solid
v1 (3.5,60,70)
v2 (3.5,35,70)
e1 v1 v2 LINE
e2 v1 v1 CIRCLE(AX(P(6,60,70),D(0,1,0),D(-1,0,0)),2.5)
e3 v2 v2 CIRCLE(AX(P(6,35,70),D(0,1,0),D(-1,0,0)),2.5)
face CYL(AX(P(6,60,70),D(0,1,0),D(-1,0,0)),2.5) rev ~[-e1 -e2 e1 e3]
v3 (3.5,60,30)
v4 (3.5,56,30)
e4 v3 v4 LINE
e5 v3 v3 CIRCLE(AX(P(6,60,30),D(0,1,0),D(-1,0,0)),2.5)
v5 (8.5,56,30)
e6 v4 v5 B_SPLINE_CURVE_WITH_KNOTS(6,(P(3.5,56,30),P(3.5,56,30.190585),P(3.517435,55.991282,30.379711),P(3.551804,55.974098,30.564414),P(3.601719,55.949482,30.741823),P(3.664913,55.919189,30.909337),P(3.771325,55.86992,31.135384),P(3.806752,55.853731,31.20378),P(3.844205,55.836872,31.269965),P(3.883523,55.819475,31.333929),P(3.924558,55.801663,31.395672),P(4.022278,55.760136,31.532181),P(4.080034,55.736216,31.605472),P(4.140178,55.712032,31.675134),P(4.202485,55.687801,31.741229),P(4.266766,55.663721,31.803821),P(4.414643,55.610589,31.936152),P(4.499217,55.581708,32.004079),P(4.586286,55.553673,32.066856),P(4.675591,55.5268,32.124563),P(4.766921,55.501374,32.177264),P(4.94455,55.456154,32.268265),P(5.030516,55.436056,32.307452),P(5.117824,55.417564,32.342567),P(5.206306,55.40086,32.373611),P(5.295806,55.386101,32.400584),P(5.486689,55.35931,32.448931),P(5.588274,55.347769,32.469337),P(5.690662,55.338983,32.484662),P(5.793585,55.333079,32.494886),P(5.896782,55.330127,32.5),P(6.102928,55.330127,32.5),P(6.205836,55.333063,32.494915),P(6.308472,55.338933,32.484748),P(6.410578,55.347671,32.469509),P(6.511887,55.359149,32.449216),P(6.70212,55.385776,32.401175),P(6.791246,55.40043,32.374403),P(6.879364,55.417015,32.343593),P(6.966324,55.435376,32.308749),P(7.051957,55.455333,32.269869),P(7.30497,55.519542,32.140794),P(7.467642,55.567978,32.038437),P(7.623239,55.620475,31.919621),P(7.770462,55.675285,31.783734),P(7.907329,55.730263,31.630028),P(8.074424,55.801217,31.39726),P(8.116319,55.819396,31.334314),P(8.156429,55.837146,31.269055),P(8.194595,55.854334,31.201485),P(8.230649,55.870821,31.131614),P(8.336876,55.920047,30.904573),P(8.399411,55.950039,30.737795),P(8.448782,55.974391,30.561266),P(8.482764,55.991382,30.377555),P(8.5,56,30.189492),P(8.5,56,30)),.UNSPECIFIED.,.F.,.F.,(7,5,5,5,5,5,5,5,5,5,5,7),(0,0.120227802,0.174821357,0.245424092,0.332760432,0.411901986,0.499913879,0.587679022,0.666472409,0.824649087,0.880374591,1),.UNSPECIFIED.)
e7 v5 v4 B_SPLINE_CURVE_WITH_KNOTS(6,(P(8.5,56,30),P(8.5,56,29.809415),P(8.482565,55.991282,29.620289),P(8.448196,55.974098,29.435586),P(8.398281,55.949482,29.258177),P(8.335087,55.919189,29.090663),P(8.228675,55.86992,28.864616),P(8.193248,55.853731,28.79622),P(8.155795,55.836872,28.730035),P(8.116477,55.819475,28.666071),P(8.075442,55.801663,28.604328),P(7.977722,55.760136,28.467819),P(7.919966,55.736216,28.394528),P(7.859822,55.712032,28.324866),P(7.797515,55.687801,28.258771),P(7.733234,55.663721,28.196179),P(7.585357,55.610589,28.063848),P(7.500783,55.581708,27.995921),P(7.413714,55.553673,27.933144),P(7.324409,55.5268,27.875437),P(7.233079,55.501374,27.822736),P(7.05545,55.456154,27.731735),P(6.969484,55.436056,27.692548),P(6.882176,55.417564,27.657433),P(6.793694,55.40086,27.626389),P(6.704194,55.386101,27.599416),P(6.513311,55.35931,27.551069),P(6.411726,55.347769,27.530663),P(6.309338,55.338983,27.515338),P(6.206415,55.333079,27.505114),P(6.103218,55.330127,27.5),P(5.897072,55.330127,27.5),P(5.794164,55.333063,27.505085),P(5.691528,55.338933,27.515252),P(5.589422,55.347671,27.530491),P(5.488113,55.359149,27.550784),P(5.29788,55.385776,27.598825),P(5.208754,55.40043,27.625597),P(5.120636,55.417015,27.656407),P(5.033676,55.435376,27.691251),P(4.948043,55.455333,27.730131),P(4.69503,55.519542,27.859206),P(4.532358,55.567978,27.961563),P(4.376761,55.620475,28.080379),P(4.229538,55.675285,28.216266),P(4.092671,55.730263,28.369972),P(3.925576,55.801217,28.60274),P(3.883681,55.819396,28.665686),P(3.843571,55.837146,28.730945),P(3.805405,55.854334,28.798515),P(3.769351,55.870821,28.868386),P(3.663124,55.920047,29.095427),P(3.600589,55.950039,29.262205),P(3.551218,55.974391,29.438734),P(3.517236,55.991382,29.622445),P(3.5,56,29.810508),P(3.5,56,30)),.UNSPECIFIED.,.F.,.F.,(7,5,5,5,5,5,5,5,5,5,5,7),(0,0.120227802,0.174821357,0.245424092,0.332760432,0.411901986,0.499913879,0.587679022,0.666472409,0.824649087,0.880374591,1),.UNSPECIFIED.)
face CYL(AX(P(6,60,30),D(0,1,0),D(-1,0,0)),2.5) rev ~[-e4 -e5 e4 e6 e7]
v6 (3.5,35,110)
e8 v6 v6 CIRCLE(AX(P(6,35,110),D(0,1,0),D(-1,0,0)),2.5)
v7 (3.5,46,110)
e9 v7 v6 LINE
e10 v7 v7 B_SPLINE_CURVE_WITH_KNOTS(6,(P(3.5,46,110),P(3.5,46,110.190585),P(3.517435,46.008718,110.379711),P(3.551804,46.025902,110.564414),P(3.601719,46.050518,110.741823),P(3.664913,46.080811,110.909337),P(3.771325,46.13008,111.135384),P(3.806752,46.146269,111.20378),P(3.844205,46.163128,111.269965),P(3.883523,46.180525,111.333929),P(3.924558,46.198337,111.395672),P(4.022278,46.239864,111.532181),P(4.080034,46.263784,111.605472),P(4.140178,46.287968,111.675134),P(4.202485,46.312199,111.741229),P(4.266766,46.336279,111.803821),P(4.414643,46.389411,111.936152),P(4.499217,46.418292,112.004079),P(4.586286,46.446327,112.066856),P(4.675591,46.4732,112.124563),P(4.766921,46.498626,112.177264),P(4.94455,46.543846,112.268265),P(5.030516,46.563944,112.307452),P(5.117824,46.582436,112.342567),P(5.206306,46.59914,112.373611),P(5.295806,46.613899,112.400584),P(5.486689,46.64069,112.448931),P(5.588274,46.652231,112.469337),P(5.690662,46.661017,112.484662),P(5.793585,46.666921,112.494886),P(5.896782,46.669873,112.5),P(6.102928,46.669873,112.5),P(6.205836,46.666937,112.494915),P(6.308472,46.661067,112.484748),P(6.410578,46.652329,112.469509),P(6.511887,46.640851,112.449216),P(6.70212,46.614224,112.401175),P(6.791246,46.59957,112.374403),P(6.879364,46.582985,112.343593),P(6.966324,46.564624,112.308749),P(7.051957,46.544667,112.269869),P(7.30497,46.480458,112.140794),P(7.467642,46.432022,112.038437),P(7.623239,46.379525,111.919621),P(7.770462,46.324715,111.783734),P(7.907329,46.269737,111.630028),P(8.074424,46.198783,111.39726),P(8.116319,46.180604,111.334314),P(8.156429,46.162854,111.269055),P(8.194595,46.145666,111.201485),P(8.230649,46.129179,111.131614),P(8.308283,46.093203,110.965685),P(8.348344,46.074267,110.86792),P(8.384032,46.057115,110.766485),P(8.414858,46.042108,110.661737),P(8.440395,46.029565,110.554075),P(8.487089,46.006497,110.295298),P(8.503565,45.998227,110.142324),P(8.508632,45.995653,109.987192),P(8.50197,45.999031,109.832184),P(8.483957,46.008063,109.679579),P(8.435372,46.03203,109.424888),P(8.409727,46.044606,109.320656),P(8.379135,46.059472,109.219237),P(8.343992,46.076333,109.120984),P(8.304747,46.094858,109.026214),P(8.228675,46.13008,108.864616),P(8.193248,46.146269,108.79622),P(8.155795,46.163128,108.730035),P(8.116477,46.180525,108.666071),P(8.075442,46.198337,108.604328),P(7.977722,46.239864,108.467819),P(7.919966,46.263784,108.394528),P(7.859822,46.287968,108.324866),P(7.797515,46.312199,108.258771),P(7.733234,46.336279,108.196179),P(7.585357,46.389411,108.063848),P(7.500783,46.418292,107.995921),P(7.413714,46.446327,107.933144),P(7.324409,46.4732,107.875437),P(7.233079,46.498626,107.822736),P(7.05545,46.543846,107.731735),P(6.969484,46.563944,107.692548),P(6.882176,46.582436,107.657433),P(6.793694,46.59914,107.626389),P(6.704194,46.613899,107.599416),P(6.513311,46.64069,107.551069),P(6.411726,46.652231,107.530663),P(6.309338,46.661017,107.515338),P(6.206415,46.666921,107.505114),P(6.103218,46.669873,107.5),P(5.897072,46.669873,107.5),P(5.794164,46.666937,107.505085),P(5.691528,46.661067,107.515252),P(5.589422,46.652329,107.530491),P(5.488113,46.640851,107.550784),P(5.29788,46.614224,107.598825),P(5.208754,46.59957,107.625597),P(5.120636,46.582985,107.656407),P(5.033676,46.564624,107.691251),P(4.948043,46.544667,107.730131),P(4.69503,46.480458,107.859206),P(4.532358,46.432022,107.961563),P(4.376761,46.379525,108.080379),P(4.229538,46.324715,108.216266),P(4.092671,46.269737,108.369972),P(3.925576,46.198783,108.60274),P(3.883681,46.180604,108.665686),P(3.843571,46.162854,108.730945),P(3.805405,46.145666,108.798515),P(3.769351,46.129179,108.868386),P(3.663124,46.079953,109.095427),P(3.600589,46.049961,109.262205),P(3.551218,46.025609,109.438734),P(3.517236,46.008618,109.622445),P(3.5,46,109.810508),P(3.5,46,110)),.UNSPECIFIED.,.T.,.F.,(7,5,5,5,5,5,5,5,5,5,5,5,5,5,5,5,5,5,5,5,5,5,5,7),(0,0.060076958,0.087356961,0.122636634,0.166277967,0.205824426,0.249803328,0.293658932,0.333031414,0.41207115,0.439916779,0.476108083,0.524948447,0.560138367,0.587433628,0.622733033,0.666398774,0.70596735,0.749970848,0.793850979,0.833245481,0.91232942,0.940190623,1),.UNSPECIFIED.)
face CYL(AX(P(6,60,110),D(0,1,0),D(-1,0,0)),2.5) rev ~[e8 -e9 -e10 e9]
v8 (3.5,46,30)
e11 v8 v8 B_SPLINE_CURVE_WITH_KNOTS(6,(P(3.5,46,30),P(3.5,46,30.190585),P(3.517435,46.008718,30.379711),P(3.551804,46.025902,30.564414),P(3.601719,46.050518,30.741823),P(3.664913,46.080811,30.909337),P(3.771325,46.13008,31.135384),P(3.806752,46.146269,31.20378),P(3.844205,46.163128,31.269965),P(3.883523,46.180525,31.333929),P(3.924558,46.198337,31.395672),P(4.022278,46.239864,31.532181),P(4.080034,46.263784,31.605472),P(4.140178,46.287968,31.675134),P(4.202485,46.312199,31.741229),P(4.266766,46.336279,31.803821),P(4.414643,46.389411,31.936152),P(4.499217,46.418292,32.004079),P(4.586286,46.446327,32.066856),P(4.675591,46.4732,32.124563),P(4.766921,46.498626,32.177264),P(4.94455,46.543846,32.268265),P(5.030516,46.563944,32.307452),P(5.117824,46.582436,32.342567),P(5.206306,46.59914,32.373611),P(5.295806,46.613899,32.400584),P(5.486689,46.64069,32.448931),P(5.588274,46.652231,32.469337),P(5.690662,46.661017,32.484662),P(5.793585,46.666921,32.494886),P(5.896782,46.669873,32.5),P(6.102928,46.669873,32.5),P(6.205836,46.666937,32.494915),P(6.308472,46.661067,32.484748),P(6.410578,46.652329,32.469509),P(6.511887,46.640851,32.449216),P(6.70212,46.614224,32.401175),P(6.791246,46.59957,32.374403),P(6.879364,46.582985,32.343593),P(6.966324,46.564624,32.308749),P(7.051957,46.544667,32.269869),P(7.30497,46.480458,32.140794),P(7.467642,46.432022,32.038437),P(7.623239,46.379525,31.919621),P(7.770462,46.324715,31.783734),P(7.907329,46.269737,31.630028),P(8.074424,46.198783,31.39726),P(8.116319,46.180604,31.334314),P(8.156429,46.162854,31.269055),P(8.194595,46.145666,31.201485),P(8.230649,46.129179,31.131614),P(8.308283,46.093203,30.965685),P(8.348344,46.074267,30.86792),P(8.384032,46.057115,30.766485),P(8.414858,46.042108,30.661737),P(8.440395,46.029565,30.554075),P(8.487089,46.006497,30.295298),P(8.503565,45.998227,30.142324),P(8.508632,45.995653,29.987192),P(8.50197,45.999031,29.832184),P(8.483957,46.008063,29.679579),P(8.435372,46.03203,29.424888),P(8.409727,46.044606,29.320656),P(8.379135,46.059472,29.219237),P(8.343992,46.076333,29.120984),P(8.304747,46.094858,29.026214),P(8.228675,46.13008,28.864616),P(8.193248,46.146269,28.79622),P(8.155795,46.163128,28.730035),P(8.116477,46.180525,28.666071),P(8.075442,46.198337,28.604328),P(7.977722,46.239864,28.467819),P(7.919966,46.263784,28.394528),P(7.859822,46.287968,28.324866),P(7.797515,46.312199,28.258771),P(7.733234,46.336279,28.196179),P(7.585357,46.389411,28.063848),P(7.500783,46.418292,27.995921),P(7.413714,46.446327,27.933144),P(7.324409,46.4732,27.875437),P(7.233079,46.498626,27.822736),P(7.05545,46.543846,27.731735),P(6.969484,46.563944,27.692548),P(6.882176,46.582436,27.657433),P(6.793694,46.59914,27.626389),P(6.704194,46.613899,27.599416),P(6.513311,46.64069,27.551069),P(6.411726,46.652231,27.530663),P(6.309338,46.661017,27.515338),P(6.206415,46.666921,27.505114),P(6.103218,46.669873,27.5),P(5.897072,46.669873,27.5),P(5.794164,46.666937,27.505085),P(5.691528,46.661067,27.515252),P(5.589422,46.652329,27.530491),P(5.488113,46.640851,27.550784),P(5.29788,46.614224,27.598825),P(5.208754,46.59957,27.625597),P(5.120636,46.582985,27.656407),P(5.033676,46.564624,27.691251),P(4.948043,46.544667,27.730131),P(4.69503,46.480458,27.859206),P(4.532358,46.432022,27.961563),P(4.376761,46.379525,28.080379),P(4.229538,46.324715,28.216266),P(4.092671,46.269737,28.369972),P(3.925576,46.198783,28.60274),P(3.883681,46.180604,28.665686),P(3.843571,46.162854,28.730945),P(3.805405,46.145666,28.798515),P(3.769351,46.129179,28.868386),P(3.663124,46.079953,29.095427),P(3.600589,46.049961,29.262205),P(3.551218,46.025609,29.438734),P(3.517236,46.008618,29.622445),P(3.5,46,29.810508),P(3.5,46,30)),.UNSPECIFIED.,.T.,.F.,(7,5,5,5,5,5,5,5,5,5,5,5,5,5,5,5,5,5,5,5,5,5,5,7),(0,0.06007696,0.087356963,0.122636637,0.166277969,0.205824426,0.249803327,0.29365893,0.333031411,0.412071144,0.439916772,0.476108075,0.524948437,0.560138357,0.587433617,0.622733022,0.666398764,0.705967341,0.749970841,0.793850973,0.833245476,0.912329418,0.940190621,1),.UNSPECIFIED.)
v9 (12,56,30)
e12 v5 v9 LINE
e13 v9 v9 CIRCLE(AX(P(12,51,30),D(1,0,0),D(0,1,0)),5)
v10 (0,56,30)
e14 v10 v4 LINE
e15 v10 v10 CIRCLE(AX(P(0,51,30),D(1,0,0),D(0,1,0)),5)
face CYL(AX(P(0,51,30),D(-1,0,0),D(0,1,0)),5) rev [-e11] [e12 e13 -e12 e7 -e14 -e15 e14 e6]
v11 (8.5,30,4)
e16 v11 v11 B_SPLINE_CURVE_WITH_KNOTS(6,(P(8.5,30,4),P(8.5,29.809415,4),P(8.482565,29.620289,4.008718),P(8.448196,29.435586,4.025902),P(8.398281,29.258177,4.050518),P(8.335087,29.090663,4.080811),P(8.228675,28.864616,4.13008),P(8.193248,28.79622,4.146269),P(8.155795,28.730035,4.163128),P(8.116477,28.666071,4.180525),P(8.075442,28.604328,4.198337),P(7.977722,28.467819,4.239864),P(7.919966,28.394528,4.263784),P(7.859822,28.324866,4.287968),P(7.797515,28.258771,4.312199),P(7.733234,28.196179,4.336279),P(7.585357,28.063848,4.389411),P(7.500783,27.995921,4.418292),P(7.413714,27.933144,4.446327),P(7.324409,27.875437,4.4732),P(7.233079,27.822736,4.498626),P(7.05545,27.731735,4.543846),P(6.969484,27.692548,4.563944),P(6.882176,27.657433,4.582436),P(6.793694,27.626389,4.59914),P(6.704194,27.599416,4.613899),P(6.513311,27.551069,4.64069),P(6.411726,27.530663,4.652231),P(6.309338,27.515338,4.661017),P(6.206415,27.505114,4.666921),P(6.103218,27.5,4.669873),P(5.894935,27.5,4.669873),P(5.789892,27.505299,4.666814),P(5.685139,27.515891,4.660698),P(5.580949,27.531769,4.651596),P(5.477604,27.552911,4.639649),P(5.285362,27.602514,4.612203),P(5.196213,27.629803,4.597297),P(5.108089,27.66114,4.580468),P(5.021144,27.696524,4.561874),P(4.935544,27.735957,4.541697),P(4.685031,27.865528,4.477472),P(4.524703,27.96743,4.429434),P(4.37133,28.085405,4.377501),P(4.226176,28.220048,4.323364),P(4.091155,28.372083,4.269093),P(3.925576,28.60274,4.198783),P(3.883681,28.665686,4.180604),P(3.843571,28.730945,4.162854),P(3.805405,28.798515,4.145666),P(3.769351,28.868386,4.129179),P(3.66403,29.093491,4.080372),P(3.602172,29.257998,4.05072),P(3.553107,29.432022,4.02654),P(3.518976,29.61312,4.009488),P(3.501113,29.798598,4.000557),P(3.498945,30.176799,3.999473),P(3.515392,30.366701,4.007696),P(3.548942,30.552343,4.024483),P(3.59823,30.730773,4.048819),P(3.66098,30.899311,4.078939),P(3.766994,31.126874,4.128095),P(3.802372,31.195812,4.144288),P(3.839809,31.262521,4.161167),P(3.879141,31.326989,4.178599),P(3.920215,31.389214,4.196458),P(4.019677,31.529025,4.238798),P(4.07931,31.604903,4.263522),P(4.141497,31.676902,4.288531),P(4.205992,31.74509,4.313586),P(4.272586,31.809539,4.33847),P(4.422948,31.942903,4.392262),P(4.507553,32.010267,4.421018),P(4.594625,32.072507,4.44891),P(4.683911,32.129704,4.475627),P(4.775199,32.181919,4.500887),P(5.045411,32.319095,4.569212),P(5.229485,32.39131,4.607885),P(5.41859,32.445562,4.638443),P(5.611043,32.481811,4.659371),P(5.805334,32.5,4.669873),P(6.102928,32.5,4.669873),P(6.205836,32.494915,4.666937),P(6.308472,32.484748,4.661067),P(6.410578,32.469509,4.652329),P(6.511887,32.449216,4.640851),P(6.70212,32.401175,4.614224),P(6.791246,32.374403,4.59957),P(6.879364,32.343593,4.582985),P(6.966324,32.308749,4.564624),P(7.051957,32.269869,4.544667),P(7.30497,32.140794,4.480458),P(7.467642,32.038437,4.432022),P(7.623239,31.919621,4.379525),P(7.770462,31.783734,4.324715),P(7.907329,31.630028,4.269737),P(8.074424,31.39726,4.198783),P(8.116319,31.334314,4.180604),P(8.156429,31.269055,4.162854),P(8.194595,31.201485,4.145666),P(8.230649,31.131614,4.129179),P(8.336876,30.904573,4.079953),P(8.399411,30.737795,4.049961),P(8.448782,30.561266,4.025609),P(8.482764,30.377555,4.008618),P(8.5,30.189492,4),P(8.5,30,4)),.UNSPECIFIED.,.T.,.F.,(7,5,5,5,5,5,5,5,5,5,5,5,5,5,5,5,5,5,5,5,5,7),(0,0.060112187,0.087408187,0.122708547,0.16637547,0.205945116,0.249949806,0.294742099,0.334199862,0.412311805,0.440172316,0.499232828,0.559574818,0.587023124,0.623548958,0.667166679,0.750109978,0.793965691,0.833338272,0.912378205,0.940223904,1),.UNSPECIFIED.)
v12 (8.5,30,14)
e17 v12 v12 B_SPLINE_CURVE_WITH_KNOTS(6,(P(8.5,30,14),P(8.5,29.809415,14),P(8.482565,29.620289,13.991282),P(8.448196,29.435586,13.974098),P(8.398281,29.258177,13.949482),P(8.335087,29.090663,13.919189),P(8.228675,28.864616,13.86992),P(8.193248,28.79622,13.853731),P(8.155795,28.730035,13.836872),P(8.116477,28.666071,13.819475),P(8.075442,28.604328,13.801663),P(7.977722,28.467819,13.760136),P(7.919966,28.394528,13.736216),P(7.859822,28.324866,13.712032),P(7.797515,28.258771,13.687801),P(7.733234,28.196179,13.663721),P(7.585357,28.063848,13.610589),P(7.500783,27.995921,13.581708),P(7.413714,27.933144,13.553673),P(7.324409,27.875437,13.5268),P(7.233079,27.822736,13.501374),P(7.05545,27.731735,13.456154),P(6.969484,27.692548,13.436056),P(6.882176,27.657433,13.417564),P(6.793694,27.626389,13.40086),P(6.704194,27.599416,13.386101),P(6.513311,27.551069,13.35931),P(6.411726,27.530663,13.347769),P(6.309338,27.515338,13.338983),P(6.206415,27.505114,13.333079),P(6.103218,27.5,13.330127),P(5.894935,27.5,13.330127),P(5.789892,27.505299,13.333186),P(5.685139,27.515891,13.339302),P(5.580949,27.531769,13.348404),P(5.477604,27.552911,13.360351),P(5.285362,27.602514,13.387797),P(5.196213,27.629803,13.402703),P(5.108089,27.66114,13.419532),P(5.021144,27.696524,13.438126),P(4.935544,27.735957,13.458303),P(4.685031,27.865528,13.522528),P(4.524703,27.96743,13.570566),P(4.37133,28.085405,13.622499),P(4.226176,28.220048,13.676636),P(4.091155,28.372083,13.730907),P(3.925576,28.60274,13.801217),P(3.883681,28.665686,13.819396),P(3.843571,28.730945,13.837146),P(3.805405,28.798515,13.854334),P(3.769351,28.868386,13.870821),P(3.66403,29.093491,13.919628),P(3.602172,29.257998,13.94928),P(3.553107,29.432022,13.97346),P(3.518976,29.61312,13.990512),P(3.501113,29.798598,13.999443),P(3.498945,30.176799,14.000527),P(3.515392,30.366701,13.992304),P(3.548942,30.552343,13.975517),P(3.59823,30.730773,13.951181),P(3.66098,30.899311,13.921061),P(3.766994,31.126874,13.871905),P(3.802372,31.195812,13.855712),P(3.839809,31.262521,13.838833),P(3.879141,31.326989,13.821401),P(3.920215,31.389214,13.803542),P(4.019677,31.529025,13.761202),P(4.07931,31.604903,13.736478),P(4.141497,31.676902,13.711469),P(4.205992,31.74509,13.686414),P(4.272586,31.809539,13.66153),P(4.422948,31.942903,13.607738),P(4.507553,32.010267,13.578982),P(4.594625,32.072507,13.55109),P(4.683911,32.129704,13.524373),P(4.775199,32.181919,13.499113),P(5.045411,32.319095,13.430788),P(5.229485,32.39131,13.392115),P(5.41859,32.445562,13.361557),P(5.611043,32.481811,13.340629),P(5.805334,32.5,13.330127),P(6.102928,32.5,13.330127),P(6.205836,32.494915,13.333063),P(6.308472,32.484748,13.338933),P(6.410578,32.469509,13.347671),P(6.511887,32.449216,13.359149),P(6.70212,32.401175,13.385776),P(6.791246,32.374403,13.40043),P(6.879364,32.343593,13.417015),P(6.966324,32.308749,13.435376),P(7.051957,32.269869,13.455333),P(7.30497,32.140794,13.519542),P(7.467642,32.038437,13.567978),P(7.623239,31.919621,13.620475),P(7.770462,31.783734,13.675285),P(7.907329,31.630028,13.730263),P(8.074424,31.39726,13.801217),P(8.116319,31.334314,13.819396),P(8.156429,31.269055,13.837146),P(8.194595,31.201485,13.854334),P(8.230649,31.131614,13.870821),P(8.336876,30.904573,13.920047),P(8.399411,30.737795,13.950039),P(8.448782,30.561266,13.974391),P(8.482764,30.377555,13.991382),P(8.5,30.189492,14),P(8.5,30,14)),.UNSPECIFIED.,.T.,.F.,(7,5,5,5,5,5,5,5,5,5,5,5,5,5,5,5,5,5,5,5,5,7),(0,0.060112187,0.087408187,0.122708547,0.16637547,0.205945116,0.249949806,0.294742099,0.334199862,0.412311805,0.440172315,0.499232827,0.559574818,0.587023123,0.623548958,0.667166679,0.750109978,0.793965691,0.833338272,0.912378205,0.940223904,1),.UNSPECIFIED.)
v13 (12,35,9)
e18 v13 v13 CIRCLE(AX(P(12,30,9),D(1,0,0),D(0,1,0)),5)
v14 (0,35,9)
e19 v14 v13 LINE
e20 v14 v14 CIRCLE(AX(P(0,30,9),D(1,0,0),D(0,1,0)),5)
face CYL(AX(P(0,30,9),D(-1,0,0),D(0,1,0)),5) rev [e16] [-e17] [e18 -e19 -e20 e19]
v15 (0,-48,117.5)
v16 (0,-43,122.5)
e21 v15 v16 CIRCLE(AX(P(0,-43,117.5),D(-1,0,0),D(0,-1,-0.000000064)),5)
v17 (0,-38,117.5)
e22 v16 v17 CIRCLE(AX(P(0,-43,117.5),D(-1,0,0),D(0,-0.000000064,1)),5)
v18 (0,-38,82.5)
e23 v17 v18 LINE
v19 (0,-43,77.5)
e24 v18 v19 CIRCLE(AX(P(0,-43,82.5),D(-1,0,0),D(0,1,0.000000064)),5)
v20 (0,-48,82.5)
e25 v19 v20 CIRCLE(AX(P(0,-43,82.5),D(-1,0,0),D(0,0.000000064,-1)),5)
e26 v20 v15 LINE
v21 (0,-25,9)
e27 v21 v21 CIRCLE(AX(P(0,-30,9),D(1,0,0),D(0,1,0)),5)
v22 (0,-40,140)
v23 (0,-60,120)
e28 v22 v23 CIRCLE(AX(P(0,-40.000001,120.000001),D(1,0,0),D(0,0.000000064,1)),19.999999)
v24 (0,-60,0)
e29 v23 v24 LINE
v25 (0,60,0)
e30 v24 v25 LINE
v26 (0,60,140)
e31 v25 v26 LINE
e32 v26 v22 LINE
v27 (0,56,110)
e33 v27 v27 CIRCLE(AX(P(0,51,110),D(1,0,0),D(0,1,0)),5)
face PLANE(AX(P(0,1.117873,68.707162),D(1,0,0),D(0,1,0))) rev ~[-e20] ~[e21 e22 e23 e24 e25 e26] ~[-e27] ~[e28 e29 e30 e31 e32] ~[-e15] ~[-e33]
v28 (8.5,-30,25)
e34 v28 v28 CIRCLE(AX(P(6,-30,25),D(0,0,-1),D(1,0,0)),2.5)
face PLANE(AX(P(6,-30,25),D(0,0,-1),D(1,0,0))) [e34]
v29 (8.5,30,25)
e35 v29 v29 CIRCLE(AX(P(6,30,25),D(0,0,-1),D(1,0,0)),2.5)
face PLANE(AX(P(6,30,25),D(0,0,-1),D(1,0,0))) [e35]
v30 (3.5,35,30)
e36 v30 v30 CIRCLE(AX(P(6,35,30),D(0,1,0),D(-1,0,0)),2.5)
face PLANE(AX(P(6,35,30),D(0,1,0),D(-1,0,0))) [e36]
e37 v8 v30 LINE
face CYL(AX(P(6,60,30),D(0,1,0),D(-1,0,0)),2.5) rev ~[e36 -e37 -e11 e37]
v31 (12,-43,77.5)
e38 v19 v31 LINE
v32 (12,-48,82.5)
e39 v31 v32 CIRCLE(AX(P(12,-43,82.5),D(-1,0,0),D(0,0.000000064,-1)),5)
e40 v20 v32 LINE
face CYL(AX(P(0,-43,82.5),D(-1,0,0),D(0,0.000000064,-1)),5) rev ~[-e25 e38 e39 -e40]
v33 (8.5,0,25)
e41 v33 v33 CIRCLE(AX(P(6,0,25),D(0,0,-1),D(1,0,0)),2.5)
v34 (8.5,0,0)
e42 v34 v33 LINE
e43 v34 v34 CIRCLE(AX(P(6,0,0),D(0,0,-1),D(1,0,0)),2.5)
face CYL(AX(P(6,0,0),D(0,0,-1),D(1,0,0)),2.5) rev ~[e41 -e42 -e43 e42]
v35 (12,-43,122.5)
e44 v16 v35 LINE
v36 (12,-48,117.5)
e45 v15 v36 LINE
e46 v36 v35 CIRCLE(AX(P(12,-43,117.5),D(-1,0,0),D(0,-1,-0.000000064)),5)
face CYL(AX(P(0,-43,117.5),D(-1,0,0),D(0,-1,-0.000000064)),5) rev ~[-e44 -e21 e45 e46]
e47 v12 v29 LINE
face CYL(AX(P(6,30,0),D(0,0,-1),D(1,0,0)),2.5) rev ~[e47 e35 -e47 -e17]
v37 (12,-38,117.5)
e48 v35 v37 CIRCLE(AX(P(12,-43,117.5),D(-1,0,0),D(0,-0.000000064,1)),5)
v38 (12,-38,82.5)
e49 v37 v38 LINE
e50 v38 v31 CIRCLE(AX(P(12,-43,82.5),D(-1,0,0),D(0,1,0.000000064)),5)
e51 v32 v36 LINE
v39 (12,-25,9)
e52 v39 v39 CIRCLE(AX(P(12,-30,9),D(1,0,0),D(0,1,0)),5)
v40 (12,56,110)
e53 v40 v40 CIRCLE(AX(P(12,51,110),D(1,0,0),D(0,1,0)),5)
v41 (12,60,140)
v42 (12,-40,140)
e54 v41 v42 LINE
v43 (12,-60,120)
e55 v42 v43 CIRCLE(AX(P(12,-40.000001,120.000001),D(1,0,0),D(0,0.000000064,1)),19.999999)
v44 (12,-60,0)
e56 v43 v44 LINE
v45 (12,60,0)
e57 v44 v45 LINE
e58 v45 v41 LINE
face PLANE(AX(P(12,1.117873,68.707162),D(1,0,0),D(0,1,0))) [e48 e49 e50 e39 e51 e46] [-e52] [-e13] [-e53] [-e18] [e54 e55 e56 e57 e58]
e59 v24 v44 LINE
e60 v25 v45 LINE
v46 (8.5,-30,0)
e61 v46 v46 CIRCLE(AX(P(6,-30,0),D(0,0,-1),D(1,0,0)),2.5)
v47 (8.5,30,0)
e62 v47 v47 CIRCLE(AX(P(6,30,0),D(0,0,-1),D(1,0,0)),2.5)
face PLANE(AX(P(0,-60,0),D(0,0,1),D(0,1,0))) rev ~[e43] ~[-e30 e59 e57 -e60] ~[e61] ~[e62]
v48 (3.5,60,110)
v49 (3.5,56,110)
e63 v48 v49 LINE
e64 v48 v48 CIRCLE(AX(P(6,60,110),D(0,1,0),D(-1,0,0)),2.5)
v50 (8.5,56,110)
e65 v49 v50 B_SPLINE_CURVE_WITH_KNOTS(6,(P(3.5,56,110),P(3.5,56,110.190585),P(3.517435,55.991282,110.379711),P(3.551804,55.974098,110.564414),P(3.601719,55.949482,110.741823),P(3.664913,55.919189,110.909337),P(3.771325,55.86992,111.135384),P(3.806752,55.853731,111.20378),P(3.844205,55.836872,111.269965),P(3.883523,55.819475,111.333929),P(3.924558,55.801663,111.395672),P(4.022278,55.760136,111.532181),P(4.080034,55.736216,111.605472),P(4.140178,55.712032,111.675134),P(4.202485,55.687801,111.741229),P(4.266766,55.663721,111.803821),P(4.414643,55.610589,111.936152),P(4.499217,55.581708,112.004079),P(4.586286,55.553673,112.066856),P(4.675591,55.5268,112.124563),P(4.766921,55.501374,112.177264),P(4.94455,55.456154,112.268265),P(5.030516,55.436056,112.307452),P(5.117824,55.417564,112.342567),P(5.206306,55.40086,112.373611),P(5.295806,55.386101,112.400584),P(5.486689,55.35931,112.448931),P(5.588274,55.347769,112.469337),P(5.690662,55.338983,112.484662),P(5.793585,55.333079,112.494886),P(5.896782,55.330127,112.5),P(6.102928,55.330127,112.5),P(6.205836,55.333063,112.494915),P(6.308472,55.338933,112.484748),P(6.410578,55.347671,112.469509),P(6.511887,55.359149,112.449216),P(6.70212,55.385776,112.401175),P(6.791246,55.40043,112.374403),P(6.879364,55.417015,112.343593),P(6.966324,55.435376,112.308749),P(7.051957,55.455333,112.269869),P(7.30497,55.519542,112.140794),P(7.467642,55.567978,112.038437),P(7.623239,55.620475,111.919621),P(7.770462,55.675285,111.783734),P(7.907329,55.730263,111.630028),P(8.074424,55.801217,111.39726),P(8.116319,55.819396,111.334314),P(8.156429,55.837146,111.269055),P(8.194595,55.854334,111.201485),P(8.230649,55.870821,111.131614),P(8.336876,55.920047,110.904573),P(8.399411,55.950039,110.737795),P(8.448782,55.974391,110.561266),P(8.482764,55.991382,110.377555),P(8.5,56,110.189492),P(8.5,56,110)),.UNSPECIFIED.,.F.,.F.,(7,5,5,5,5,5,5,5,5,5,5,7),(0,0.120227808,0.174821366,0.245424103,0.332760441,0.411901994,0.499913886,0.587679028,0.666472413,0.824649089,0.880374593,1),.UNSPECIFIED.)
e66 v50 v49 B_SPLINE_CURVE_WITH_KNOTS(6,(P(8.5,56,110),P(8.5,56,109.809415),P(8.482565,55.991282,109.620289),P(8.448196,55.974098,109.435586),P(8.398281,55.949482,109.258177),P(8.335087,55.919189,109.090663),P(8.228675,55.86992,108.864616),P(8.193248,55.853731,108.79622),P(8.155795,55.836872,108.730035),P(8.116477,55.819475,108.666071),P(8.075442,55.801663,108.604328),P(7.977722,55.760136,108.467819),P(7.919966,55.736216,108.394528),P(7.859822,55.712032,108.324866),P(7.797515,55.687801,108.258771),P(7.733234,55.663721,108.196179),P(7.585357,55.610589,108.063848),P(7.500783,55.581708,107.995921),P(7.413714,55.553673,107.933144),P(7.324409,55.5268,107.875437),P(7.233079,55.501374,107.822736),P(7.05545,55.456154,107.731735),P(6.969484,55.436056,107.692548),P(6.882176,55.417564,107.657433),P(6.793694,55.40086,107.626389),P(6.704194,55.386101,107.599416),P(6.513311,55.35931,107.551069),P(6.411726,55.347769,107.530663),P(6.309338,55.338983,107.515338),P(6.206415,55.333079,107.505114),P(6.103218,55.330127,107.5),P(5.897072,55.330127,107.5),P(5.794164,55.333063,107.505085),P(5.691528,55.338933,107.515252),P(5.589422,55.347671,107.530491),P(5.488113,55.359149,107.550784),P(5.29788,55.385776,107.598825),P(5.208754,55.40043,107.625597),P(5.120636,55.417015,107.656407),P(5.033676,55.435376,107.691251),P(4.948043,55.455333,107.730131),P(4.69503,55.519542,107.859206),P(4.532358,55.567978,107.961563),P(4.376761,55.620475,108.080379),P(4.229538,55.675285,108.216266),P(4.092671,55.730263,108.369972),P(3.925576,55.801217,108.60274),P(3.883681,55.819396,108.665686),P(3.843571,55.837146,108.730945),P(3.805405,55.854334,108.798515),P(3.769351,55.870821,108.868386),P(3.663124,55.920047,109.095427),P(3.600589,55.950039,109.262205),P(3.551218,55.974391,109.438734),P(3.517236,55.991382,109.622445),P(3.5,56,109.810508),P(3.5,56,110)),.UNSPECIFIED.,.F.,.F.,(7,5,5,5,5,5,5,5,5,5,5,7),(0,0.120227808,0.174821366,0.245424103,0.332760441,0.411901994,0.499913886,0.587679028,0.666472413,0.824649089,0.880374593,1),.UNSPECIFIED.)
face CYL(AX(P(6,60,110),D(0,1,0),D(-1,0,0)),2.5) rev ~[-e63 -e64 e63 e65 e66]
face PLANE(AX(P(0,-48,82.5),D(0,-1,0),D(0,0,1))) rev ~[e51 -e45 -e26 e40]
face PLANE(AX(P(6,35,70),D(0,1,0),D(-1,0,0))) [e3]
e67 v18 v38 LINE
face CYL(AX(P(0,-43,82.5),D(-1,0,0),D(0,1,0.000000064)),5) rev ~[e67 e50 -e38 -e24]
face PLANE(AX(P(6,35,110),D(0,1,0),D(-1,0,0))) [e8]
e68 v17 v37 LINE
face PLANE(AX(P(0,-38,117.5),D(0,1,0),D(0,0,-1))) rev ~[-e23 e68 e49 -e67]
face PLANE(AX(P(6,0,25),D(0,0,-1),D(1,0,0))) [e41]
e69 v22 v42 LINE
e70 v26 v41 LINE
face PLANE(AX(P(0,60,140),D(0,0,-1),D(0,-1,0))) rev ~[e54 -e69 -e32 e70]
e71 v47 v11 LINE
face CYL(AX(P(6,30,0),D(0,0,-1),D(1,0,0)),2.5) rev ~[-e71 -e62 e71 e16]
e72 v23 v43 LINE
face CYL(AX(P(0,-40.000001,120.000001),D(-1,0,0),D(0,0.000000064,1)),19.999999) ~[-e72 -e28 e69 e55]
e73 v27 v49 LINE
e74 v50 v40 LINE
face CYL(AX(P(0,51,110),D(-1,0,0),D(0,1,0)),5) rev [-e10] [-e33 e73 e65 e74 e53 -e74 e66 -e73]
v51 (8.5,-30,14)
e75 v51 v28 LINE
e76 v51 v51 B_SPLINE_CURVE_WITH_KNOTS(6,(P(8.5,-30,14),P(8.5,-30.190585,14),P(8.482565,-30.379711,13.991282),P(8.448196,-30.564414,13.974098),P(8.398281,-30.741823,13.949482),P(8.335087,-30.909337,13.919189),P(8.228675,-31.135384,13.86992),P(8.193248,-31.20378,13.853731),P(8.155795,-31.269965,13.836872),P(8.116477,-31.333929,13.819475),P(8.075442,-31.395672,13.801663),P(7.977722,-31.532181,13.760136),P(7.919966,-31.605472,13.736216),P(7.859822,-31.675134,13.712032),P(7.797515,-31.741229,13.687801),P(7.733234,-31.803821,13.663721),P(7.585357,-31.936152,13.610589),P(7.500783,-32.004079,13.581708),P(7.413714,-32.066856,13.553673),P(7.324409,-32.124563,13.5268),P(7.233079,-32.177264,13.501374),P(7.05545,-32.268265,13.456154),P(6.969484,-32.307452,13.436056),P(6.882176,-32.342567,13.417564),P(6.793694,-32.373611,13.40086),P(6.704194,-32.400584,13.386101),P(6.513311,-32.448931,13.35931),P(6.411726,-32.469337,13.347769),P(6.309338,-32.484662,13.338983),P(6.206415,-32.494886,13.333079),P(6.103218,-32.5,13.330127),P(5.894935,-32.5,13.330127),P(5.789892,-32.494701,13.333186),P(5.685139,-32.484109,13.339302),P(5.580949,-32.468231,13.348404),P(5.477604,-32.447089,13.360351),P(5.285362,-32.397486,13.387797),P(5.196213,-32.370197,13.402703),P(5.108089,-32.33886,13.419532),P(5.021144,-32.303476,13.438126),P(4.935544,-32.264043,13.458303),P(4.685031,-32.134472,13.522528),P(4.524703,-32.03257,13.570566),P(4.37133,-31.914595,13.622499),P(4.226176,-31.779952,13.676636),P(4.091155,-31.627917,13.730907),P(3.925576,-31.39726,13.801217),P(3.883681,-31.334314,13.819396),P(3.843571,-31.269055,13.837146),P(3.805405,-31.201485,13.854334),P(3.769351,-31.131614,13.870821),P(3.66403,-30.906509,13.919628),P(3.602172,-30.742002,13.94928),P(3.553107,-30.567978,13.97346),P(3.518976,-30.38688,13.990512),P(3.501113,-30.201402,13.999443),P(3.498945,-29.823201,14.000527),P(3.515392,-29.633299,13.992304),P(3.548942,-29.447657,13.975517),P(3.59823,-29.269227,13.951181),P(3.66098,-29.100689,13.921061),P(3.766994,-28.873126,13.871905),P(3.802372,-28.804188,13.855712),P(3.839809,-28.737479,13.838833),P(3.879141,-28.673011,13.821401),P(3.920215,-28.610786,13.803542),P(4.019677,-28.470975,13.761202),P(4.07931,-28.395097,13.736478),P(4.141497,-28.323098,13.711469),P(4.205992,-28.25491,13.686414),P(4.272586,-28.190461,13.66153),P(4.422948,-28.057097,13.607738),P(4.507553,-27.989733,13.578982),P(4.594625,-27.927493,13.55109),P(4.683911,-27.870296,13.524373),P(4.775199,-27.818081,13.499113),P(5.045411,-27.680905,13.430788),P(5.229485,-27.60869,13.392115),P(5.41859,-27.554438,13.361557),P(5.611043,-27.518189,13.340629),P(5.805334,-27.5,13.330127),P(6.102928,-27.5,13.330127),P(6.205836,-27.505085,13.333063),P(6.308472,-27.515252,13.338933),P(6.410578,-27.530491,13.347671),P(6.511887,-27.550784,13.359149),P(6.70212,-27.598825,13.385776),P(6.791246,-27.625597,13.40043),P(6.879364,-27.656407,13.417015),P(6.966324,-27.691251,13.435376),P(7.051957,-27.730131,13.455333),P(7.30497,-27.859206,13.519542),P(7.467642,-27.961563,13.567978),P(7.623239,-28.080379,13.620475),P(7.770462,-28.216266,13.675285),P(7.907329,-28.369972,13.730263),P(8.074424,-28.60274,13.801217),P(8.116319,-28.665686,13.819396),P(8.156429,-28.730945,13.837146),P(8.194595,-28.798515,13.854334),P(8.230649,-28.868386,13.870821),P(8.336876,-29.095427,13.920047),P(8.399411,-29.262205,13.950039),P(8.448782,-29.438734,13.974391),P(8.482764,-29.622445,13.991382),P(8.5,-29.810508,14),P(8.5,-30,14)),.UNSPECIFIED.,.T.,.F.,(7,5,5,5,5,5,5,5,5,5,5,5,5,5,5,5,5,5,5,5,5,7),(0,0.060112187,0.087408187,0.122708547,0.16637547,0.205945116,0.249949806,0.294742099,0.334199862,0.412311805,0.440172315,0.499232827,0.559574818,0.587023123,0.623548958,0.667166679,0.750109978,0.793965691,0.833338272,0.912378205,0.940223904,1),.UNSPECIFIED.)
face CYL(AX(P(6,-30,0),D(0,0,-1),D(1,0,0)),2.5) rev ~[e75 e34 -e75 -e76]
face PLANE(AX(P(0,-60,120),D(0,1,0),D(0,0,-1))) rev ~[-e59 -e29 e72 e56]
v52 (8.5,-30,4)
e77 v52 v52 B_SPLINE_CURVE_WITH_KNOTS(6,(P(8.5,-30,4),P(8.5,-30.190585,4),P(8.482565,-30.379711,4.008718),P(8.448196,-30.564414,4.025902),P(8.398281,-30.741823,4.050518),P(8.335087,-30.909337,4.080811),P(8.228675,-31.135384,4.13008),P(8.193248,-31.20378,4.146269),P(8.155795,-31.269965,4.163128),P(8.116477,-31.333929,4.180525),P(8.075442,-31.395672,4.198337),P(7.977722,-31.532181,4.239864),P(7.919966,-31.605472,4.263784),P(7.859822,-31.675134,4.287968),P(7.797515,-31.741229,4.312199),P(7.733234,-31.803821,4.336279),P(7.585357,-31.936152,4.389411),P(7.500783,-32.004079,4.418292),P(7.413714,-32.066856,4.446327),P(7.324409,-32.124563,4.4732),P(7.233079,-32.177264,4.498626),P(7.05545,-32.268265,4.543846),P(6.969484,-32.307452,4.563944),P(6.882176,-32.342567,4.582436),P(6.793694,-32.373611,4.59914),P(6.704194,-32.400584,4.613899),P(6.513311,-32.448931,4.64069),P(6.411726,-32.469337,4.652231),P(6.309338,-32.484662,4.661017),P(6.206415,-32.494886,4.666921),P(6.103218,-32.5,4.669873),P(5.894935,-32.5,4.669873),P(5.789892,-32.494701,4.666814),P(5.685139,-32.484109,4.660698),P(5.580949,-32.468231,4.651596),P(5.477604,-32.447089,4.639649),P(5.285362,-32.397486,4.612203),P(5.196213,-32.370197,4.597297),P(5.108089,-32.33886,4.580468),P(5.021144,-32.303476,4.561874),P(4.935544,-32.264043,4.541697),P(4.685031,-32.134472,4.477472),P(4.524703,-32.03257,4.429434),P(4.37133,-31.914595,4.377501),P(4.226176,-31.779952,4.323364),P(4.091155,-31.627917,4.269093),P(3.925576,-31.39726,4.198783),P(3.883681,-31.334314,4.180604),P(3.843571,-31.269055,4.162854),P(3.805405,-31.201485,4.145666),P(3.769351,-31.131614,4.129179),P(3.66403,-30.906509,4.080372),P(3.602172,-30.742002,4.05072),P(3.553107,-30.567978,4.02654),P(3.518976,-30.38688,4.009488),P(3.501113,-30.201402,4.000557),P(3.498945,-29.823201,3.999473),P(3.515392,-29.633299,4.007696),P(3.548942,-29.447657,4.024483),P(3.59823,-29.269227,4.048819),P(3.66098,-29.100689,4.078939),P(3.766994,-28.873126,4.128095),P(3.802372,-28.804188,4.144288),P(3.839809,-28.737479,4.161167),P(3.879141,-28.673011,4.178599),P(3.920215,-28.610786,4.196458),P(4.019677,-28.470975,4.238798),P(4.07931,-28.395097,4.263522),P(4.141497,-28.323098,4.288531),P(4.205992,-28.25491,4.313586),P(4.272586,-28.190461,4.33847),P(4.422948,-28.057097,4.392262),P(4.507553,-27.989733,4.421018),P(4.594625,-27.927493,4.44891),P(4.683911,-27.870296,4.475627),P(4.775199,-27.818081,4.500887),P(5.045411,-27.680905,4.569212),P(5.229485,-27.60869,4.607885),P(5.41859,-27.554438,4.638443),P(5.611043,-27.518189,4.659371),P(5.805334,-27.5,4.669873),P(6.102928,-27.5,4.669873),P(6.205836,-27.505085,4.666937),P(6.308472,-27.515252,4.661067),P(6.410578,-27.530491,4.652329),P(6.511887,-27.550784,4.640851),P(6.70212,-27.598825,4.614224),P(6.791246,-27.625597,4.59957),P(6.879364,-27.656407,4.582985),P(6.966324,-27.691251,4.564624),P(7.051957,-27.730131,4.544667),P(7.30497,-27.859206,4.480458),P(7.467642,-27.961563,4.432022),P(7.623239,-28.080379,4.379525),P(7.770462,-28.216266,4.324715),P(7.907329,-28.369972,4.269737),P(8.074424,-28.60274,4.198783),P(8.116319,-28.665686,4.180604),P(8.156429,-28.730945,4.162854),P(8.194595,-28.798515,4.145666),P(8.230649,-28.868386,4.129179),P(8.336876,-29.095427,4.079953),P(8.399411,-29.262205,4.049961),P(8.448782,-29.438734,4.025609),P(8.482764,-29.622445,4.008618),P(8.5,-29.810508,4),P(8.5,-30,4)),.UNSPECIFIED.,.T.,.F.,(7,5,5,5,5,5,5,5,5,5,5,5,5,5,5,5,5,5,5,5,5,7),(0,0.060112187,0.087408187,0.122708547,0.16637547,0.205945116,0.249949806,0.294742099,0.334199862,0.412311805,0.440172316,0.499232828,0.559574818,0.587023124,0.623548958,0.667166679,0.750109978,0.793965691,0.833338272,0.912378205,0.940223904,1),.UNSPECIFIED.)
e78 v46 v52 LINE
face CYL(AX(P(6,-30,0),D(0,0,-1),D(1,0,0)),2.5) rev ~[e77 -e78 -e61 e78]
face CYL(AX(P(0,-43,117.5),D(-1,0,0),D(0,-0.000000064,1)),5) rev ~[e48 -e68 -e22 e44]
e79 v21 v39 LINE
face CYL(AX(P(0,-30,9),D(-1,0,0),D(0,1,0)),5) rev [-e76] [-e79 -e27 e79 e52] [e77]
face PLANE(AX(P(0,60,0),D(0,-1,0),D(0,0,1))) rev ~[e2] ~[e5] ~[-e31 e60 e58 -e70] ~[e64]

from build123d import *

# Parameters (mm, degrees)
F0_R     = 5
F1_DEPTH = 12
F2_R     = 2.5
F3_DEPTH = 25
F4_R     = 2.5
F5_DEPTH = 25


with BuildPart() as f1:
    # F0 (on Right) → F1 (new body)
    with BuildSketch(Plane.YZ):
        with BuildLine():
            Line((-60, 120), (-60, 0))
            Line((-60, 0), (60, 0))
            Line((60, 0), (60, 140))
            Line((60, 140), (-40, 140))
            ThreePointArc((-40, 140), (-54.142136, 134.142136), (-60, 120))
        make_face()
        with Locations((-30, 9)):
            Circle(F0_R, mode=Mode.SUBTRACT)
        with Locations((30, 9)):
            Circle(F0_R, mode=Mode.SUBTRACT)
        with Locations((51, 30)):
            Circle(F0_R, mode=Mode.SUBTRACT)
        with BuildLine():
            Line((-48, 82.5), (-48, 117.5))
            ThreePointArc((-48, 117.5), (-46.535534, 121.035534), (-43, 122.5))
            ThreePointArc((-43, 122.5), (-39.464466, 121.035534), (-38, 117.5))
            Line((-38, 117.5), (-38, 82.5))
            ThreePointArc((-38, 82.5), (-39.464466, 78.964466), (-43, 77.5))
            ThreePointArc((-43, 77.5), (-46.535534, 78.964466), (-48, 82.5))
        make_face(mode=Mode.SUBTRACT)
        with Locations((51, 110)):
            Circle(F0_R, mode=Mode.SUBTRACT)
    extrude(amount=F1_DEPTH)

    # F2 (on face) → F3 (cut)
    with BuildSketch(Plane(origin=(0, 0, 0), x_dir=(1, 0, 0), z_dir=(0, 0, -1))):
        with Locations((6, 0)):
            Circle(F2_R)
        with Locations((6, 30)):
            Circle(F2_R)
        with Locations((6, -30)):
            Circle(F2_R)
    extrude(amount=-F3_DEPTH, mode=Mode.SUBTRACT)

    # F4 (on face) → F5 (cut)
    with BuildSketch(Plane(origin=(0, 60, 0), x_dir=(-1, 0, 0), z_dir=(0, 1, 0))):
        with Locations((-6, 70)):
            Circle(F4_R)
        with Locations((-6, 110)):
            Circle(F4_R)
        with Locations((-6, 30)):
            Circle(F4_R)
    extrude(amount=-F5_DEPTH, mode=Mode.SUBTRACT)


solid = f1.part
